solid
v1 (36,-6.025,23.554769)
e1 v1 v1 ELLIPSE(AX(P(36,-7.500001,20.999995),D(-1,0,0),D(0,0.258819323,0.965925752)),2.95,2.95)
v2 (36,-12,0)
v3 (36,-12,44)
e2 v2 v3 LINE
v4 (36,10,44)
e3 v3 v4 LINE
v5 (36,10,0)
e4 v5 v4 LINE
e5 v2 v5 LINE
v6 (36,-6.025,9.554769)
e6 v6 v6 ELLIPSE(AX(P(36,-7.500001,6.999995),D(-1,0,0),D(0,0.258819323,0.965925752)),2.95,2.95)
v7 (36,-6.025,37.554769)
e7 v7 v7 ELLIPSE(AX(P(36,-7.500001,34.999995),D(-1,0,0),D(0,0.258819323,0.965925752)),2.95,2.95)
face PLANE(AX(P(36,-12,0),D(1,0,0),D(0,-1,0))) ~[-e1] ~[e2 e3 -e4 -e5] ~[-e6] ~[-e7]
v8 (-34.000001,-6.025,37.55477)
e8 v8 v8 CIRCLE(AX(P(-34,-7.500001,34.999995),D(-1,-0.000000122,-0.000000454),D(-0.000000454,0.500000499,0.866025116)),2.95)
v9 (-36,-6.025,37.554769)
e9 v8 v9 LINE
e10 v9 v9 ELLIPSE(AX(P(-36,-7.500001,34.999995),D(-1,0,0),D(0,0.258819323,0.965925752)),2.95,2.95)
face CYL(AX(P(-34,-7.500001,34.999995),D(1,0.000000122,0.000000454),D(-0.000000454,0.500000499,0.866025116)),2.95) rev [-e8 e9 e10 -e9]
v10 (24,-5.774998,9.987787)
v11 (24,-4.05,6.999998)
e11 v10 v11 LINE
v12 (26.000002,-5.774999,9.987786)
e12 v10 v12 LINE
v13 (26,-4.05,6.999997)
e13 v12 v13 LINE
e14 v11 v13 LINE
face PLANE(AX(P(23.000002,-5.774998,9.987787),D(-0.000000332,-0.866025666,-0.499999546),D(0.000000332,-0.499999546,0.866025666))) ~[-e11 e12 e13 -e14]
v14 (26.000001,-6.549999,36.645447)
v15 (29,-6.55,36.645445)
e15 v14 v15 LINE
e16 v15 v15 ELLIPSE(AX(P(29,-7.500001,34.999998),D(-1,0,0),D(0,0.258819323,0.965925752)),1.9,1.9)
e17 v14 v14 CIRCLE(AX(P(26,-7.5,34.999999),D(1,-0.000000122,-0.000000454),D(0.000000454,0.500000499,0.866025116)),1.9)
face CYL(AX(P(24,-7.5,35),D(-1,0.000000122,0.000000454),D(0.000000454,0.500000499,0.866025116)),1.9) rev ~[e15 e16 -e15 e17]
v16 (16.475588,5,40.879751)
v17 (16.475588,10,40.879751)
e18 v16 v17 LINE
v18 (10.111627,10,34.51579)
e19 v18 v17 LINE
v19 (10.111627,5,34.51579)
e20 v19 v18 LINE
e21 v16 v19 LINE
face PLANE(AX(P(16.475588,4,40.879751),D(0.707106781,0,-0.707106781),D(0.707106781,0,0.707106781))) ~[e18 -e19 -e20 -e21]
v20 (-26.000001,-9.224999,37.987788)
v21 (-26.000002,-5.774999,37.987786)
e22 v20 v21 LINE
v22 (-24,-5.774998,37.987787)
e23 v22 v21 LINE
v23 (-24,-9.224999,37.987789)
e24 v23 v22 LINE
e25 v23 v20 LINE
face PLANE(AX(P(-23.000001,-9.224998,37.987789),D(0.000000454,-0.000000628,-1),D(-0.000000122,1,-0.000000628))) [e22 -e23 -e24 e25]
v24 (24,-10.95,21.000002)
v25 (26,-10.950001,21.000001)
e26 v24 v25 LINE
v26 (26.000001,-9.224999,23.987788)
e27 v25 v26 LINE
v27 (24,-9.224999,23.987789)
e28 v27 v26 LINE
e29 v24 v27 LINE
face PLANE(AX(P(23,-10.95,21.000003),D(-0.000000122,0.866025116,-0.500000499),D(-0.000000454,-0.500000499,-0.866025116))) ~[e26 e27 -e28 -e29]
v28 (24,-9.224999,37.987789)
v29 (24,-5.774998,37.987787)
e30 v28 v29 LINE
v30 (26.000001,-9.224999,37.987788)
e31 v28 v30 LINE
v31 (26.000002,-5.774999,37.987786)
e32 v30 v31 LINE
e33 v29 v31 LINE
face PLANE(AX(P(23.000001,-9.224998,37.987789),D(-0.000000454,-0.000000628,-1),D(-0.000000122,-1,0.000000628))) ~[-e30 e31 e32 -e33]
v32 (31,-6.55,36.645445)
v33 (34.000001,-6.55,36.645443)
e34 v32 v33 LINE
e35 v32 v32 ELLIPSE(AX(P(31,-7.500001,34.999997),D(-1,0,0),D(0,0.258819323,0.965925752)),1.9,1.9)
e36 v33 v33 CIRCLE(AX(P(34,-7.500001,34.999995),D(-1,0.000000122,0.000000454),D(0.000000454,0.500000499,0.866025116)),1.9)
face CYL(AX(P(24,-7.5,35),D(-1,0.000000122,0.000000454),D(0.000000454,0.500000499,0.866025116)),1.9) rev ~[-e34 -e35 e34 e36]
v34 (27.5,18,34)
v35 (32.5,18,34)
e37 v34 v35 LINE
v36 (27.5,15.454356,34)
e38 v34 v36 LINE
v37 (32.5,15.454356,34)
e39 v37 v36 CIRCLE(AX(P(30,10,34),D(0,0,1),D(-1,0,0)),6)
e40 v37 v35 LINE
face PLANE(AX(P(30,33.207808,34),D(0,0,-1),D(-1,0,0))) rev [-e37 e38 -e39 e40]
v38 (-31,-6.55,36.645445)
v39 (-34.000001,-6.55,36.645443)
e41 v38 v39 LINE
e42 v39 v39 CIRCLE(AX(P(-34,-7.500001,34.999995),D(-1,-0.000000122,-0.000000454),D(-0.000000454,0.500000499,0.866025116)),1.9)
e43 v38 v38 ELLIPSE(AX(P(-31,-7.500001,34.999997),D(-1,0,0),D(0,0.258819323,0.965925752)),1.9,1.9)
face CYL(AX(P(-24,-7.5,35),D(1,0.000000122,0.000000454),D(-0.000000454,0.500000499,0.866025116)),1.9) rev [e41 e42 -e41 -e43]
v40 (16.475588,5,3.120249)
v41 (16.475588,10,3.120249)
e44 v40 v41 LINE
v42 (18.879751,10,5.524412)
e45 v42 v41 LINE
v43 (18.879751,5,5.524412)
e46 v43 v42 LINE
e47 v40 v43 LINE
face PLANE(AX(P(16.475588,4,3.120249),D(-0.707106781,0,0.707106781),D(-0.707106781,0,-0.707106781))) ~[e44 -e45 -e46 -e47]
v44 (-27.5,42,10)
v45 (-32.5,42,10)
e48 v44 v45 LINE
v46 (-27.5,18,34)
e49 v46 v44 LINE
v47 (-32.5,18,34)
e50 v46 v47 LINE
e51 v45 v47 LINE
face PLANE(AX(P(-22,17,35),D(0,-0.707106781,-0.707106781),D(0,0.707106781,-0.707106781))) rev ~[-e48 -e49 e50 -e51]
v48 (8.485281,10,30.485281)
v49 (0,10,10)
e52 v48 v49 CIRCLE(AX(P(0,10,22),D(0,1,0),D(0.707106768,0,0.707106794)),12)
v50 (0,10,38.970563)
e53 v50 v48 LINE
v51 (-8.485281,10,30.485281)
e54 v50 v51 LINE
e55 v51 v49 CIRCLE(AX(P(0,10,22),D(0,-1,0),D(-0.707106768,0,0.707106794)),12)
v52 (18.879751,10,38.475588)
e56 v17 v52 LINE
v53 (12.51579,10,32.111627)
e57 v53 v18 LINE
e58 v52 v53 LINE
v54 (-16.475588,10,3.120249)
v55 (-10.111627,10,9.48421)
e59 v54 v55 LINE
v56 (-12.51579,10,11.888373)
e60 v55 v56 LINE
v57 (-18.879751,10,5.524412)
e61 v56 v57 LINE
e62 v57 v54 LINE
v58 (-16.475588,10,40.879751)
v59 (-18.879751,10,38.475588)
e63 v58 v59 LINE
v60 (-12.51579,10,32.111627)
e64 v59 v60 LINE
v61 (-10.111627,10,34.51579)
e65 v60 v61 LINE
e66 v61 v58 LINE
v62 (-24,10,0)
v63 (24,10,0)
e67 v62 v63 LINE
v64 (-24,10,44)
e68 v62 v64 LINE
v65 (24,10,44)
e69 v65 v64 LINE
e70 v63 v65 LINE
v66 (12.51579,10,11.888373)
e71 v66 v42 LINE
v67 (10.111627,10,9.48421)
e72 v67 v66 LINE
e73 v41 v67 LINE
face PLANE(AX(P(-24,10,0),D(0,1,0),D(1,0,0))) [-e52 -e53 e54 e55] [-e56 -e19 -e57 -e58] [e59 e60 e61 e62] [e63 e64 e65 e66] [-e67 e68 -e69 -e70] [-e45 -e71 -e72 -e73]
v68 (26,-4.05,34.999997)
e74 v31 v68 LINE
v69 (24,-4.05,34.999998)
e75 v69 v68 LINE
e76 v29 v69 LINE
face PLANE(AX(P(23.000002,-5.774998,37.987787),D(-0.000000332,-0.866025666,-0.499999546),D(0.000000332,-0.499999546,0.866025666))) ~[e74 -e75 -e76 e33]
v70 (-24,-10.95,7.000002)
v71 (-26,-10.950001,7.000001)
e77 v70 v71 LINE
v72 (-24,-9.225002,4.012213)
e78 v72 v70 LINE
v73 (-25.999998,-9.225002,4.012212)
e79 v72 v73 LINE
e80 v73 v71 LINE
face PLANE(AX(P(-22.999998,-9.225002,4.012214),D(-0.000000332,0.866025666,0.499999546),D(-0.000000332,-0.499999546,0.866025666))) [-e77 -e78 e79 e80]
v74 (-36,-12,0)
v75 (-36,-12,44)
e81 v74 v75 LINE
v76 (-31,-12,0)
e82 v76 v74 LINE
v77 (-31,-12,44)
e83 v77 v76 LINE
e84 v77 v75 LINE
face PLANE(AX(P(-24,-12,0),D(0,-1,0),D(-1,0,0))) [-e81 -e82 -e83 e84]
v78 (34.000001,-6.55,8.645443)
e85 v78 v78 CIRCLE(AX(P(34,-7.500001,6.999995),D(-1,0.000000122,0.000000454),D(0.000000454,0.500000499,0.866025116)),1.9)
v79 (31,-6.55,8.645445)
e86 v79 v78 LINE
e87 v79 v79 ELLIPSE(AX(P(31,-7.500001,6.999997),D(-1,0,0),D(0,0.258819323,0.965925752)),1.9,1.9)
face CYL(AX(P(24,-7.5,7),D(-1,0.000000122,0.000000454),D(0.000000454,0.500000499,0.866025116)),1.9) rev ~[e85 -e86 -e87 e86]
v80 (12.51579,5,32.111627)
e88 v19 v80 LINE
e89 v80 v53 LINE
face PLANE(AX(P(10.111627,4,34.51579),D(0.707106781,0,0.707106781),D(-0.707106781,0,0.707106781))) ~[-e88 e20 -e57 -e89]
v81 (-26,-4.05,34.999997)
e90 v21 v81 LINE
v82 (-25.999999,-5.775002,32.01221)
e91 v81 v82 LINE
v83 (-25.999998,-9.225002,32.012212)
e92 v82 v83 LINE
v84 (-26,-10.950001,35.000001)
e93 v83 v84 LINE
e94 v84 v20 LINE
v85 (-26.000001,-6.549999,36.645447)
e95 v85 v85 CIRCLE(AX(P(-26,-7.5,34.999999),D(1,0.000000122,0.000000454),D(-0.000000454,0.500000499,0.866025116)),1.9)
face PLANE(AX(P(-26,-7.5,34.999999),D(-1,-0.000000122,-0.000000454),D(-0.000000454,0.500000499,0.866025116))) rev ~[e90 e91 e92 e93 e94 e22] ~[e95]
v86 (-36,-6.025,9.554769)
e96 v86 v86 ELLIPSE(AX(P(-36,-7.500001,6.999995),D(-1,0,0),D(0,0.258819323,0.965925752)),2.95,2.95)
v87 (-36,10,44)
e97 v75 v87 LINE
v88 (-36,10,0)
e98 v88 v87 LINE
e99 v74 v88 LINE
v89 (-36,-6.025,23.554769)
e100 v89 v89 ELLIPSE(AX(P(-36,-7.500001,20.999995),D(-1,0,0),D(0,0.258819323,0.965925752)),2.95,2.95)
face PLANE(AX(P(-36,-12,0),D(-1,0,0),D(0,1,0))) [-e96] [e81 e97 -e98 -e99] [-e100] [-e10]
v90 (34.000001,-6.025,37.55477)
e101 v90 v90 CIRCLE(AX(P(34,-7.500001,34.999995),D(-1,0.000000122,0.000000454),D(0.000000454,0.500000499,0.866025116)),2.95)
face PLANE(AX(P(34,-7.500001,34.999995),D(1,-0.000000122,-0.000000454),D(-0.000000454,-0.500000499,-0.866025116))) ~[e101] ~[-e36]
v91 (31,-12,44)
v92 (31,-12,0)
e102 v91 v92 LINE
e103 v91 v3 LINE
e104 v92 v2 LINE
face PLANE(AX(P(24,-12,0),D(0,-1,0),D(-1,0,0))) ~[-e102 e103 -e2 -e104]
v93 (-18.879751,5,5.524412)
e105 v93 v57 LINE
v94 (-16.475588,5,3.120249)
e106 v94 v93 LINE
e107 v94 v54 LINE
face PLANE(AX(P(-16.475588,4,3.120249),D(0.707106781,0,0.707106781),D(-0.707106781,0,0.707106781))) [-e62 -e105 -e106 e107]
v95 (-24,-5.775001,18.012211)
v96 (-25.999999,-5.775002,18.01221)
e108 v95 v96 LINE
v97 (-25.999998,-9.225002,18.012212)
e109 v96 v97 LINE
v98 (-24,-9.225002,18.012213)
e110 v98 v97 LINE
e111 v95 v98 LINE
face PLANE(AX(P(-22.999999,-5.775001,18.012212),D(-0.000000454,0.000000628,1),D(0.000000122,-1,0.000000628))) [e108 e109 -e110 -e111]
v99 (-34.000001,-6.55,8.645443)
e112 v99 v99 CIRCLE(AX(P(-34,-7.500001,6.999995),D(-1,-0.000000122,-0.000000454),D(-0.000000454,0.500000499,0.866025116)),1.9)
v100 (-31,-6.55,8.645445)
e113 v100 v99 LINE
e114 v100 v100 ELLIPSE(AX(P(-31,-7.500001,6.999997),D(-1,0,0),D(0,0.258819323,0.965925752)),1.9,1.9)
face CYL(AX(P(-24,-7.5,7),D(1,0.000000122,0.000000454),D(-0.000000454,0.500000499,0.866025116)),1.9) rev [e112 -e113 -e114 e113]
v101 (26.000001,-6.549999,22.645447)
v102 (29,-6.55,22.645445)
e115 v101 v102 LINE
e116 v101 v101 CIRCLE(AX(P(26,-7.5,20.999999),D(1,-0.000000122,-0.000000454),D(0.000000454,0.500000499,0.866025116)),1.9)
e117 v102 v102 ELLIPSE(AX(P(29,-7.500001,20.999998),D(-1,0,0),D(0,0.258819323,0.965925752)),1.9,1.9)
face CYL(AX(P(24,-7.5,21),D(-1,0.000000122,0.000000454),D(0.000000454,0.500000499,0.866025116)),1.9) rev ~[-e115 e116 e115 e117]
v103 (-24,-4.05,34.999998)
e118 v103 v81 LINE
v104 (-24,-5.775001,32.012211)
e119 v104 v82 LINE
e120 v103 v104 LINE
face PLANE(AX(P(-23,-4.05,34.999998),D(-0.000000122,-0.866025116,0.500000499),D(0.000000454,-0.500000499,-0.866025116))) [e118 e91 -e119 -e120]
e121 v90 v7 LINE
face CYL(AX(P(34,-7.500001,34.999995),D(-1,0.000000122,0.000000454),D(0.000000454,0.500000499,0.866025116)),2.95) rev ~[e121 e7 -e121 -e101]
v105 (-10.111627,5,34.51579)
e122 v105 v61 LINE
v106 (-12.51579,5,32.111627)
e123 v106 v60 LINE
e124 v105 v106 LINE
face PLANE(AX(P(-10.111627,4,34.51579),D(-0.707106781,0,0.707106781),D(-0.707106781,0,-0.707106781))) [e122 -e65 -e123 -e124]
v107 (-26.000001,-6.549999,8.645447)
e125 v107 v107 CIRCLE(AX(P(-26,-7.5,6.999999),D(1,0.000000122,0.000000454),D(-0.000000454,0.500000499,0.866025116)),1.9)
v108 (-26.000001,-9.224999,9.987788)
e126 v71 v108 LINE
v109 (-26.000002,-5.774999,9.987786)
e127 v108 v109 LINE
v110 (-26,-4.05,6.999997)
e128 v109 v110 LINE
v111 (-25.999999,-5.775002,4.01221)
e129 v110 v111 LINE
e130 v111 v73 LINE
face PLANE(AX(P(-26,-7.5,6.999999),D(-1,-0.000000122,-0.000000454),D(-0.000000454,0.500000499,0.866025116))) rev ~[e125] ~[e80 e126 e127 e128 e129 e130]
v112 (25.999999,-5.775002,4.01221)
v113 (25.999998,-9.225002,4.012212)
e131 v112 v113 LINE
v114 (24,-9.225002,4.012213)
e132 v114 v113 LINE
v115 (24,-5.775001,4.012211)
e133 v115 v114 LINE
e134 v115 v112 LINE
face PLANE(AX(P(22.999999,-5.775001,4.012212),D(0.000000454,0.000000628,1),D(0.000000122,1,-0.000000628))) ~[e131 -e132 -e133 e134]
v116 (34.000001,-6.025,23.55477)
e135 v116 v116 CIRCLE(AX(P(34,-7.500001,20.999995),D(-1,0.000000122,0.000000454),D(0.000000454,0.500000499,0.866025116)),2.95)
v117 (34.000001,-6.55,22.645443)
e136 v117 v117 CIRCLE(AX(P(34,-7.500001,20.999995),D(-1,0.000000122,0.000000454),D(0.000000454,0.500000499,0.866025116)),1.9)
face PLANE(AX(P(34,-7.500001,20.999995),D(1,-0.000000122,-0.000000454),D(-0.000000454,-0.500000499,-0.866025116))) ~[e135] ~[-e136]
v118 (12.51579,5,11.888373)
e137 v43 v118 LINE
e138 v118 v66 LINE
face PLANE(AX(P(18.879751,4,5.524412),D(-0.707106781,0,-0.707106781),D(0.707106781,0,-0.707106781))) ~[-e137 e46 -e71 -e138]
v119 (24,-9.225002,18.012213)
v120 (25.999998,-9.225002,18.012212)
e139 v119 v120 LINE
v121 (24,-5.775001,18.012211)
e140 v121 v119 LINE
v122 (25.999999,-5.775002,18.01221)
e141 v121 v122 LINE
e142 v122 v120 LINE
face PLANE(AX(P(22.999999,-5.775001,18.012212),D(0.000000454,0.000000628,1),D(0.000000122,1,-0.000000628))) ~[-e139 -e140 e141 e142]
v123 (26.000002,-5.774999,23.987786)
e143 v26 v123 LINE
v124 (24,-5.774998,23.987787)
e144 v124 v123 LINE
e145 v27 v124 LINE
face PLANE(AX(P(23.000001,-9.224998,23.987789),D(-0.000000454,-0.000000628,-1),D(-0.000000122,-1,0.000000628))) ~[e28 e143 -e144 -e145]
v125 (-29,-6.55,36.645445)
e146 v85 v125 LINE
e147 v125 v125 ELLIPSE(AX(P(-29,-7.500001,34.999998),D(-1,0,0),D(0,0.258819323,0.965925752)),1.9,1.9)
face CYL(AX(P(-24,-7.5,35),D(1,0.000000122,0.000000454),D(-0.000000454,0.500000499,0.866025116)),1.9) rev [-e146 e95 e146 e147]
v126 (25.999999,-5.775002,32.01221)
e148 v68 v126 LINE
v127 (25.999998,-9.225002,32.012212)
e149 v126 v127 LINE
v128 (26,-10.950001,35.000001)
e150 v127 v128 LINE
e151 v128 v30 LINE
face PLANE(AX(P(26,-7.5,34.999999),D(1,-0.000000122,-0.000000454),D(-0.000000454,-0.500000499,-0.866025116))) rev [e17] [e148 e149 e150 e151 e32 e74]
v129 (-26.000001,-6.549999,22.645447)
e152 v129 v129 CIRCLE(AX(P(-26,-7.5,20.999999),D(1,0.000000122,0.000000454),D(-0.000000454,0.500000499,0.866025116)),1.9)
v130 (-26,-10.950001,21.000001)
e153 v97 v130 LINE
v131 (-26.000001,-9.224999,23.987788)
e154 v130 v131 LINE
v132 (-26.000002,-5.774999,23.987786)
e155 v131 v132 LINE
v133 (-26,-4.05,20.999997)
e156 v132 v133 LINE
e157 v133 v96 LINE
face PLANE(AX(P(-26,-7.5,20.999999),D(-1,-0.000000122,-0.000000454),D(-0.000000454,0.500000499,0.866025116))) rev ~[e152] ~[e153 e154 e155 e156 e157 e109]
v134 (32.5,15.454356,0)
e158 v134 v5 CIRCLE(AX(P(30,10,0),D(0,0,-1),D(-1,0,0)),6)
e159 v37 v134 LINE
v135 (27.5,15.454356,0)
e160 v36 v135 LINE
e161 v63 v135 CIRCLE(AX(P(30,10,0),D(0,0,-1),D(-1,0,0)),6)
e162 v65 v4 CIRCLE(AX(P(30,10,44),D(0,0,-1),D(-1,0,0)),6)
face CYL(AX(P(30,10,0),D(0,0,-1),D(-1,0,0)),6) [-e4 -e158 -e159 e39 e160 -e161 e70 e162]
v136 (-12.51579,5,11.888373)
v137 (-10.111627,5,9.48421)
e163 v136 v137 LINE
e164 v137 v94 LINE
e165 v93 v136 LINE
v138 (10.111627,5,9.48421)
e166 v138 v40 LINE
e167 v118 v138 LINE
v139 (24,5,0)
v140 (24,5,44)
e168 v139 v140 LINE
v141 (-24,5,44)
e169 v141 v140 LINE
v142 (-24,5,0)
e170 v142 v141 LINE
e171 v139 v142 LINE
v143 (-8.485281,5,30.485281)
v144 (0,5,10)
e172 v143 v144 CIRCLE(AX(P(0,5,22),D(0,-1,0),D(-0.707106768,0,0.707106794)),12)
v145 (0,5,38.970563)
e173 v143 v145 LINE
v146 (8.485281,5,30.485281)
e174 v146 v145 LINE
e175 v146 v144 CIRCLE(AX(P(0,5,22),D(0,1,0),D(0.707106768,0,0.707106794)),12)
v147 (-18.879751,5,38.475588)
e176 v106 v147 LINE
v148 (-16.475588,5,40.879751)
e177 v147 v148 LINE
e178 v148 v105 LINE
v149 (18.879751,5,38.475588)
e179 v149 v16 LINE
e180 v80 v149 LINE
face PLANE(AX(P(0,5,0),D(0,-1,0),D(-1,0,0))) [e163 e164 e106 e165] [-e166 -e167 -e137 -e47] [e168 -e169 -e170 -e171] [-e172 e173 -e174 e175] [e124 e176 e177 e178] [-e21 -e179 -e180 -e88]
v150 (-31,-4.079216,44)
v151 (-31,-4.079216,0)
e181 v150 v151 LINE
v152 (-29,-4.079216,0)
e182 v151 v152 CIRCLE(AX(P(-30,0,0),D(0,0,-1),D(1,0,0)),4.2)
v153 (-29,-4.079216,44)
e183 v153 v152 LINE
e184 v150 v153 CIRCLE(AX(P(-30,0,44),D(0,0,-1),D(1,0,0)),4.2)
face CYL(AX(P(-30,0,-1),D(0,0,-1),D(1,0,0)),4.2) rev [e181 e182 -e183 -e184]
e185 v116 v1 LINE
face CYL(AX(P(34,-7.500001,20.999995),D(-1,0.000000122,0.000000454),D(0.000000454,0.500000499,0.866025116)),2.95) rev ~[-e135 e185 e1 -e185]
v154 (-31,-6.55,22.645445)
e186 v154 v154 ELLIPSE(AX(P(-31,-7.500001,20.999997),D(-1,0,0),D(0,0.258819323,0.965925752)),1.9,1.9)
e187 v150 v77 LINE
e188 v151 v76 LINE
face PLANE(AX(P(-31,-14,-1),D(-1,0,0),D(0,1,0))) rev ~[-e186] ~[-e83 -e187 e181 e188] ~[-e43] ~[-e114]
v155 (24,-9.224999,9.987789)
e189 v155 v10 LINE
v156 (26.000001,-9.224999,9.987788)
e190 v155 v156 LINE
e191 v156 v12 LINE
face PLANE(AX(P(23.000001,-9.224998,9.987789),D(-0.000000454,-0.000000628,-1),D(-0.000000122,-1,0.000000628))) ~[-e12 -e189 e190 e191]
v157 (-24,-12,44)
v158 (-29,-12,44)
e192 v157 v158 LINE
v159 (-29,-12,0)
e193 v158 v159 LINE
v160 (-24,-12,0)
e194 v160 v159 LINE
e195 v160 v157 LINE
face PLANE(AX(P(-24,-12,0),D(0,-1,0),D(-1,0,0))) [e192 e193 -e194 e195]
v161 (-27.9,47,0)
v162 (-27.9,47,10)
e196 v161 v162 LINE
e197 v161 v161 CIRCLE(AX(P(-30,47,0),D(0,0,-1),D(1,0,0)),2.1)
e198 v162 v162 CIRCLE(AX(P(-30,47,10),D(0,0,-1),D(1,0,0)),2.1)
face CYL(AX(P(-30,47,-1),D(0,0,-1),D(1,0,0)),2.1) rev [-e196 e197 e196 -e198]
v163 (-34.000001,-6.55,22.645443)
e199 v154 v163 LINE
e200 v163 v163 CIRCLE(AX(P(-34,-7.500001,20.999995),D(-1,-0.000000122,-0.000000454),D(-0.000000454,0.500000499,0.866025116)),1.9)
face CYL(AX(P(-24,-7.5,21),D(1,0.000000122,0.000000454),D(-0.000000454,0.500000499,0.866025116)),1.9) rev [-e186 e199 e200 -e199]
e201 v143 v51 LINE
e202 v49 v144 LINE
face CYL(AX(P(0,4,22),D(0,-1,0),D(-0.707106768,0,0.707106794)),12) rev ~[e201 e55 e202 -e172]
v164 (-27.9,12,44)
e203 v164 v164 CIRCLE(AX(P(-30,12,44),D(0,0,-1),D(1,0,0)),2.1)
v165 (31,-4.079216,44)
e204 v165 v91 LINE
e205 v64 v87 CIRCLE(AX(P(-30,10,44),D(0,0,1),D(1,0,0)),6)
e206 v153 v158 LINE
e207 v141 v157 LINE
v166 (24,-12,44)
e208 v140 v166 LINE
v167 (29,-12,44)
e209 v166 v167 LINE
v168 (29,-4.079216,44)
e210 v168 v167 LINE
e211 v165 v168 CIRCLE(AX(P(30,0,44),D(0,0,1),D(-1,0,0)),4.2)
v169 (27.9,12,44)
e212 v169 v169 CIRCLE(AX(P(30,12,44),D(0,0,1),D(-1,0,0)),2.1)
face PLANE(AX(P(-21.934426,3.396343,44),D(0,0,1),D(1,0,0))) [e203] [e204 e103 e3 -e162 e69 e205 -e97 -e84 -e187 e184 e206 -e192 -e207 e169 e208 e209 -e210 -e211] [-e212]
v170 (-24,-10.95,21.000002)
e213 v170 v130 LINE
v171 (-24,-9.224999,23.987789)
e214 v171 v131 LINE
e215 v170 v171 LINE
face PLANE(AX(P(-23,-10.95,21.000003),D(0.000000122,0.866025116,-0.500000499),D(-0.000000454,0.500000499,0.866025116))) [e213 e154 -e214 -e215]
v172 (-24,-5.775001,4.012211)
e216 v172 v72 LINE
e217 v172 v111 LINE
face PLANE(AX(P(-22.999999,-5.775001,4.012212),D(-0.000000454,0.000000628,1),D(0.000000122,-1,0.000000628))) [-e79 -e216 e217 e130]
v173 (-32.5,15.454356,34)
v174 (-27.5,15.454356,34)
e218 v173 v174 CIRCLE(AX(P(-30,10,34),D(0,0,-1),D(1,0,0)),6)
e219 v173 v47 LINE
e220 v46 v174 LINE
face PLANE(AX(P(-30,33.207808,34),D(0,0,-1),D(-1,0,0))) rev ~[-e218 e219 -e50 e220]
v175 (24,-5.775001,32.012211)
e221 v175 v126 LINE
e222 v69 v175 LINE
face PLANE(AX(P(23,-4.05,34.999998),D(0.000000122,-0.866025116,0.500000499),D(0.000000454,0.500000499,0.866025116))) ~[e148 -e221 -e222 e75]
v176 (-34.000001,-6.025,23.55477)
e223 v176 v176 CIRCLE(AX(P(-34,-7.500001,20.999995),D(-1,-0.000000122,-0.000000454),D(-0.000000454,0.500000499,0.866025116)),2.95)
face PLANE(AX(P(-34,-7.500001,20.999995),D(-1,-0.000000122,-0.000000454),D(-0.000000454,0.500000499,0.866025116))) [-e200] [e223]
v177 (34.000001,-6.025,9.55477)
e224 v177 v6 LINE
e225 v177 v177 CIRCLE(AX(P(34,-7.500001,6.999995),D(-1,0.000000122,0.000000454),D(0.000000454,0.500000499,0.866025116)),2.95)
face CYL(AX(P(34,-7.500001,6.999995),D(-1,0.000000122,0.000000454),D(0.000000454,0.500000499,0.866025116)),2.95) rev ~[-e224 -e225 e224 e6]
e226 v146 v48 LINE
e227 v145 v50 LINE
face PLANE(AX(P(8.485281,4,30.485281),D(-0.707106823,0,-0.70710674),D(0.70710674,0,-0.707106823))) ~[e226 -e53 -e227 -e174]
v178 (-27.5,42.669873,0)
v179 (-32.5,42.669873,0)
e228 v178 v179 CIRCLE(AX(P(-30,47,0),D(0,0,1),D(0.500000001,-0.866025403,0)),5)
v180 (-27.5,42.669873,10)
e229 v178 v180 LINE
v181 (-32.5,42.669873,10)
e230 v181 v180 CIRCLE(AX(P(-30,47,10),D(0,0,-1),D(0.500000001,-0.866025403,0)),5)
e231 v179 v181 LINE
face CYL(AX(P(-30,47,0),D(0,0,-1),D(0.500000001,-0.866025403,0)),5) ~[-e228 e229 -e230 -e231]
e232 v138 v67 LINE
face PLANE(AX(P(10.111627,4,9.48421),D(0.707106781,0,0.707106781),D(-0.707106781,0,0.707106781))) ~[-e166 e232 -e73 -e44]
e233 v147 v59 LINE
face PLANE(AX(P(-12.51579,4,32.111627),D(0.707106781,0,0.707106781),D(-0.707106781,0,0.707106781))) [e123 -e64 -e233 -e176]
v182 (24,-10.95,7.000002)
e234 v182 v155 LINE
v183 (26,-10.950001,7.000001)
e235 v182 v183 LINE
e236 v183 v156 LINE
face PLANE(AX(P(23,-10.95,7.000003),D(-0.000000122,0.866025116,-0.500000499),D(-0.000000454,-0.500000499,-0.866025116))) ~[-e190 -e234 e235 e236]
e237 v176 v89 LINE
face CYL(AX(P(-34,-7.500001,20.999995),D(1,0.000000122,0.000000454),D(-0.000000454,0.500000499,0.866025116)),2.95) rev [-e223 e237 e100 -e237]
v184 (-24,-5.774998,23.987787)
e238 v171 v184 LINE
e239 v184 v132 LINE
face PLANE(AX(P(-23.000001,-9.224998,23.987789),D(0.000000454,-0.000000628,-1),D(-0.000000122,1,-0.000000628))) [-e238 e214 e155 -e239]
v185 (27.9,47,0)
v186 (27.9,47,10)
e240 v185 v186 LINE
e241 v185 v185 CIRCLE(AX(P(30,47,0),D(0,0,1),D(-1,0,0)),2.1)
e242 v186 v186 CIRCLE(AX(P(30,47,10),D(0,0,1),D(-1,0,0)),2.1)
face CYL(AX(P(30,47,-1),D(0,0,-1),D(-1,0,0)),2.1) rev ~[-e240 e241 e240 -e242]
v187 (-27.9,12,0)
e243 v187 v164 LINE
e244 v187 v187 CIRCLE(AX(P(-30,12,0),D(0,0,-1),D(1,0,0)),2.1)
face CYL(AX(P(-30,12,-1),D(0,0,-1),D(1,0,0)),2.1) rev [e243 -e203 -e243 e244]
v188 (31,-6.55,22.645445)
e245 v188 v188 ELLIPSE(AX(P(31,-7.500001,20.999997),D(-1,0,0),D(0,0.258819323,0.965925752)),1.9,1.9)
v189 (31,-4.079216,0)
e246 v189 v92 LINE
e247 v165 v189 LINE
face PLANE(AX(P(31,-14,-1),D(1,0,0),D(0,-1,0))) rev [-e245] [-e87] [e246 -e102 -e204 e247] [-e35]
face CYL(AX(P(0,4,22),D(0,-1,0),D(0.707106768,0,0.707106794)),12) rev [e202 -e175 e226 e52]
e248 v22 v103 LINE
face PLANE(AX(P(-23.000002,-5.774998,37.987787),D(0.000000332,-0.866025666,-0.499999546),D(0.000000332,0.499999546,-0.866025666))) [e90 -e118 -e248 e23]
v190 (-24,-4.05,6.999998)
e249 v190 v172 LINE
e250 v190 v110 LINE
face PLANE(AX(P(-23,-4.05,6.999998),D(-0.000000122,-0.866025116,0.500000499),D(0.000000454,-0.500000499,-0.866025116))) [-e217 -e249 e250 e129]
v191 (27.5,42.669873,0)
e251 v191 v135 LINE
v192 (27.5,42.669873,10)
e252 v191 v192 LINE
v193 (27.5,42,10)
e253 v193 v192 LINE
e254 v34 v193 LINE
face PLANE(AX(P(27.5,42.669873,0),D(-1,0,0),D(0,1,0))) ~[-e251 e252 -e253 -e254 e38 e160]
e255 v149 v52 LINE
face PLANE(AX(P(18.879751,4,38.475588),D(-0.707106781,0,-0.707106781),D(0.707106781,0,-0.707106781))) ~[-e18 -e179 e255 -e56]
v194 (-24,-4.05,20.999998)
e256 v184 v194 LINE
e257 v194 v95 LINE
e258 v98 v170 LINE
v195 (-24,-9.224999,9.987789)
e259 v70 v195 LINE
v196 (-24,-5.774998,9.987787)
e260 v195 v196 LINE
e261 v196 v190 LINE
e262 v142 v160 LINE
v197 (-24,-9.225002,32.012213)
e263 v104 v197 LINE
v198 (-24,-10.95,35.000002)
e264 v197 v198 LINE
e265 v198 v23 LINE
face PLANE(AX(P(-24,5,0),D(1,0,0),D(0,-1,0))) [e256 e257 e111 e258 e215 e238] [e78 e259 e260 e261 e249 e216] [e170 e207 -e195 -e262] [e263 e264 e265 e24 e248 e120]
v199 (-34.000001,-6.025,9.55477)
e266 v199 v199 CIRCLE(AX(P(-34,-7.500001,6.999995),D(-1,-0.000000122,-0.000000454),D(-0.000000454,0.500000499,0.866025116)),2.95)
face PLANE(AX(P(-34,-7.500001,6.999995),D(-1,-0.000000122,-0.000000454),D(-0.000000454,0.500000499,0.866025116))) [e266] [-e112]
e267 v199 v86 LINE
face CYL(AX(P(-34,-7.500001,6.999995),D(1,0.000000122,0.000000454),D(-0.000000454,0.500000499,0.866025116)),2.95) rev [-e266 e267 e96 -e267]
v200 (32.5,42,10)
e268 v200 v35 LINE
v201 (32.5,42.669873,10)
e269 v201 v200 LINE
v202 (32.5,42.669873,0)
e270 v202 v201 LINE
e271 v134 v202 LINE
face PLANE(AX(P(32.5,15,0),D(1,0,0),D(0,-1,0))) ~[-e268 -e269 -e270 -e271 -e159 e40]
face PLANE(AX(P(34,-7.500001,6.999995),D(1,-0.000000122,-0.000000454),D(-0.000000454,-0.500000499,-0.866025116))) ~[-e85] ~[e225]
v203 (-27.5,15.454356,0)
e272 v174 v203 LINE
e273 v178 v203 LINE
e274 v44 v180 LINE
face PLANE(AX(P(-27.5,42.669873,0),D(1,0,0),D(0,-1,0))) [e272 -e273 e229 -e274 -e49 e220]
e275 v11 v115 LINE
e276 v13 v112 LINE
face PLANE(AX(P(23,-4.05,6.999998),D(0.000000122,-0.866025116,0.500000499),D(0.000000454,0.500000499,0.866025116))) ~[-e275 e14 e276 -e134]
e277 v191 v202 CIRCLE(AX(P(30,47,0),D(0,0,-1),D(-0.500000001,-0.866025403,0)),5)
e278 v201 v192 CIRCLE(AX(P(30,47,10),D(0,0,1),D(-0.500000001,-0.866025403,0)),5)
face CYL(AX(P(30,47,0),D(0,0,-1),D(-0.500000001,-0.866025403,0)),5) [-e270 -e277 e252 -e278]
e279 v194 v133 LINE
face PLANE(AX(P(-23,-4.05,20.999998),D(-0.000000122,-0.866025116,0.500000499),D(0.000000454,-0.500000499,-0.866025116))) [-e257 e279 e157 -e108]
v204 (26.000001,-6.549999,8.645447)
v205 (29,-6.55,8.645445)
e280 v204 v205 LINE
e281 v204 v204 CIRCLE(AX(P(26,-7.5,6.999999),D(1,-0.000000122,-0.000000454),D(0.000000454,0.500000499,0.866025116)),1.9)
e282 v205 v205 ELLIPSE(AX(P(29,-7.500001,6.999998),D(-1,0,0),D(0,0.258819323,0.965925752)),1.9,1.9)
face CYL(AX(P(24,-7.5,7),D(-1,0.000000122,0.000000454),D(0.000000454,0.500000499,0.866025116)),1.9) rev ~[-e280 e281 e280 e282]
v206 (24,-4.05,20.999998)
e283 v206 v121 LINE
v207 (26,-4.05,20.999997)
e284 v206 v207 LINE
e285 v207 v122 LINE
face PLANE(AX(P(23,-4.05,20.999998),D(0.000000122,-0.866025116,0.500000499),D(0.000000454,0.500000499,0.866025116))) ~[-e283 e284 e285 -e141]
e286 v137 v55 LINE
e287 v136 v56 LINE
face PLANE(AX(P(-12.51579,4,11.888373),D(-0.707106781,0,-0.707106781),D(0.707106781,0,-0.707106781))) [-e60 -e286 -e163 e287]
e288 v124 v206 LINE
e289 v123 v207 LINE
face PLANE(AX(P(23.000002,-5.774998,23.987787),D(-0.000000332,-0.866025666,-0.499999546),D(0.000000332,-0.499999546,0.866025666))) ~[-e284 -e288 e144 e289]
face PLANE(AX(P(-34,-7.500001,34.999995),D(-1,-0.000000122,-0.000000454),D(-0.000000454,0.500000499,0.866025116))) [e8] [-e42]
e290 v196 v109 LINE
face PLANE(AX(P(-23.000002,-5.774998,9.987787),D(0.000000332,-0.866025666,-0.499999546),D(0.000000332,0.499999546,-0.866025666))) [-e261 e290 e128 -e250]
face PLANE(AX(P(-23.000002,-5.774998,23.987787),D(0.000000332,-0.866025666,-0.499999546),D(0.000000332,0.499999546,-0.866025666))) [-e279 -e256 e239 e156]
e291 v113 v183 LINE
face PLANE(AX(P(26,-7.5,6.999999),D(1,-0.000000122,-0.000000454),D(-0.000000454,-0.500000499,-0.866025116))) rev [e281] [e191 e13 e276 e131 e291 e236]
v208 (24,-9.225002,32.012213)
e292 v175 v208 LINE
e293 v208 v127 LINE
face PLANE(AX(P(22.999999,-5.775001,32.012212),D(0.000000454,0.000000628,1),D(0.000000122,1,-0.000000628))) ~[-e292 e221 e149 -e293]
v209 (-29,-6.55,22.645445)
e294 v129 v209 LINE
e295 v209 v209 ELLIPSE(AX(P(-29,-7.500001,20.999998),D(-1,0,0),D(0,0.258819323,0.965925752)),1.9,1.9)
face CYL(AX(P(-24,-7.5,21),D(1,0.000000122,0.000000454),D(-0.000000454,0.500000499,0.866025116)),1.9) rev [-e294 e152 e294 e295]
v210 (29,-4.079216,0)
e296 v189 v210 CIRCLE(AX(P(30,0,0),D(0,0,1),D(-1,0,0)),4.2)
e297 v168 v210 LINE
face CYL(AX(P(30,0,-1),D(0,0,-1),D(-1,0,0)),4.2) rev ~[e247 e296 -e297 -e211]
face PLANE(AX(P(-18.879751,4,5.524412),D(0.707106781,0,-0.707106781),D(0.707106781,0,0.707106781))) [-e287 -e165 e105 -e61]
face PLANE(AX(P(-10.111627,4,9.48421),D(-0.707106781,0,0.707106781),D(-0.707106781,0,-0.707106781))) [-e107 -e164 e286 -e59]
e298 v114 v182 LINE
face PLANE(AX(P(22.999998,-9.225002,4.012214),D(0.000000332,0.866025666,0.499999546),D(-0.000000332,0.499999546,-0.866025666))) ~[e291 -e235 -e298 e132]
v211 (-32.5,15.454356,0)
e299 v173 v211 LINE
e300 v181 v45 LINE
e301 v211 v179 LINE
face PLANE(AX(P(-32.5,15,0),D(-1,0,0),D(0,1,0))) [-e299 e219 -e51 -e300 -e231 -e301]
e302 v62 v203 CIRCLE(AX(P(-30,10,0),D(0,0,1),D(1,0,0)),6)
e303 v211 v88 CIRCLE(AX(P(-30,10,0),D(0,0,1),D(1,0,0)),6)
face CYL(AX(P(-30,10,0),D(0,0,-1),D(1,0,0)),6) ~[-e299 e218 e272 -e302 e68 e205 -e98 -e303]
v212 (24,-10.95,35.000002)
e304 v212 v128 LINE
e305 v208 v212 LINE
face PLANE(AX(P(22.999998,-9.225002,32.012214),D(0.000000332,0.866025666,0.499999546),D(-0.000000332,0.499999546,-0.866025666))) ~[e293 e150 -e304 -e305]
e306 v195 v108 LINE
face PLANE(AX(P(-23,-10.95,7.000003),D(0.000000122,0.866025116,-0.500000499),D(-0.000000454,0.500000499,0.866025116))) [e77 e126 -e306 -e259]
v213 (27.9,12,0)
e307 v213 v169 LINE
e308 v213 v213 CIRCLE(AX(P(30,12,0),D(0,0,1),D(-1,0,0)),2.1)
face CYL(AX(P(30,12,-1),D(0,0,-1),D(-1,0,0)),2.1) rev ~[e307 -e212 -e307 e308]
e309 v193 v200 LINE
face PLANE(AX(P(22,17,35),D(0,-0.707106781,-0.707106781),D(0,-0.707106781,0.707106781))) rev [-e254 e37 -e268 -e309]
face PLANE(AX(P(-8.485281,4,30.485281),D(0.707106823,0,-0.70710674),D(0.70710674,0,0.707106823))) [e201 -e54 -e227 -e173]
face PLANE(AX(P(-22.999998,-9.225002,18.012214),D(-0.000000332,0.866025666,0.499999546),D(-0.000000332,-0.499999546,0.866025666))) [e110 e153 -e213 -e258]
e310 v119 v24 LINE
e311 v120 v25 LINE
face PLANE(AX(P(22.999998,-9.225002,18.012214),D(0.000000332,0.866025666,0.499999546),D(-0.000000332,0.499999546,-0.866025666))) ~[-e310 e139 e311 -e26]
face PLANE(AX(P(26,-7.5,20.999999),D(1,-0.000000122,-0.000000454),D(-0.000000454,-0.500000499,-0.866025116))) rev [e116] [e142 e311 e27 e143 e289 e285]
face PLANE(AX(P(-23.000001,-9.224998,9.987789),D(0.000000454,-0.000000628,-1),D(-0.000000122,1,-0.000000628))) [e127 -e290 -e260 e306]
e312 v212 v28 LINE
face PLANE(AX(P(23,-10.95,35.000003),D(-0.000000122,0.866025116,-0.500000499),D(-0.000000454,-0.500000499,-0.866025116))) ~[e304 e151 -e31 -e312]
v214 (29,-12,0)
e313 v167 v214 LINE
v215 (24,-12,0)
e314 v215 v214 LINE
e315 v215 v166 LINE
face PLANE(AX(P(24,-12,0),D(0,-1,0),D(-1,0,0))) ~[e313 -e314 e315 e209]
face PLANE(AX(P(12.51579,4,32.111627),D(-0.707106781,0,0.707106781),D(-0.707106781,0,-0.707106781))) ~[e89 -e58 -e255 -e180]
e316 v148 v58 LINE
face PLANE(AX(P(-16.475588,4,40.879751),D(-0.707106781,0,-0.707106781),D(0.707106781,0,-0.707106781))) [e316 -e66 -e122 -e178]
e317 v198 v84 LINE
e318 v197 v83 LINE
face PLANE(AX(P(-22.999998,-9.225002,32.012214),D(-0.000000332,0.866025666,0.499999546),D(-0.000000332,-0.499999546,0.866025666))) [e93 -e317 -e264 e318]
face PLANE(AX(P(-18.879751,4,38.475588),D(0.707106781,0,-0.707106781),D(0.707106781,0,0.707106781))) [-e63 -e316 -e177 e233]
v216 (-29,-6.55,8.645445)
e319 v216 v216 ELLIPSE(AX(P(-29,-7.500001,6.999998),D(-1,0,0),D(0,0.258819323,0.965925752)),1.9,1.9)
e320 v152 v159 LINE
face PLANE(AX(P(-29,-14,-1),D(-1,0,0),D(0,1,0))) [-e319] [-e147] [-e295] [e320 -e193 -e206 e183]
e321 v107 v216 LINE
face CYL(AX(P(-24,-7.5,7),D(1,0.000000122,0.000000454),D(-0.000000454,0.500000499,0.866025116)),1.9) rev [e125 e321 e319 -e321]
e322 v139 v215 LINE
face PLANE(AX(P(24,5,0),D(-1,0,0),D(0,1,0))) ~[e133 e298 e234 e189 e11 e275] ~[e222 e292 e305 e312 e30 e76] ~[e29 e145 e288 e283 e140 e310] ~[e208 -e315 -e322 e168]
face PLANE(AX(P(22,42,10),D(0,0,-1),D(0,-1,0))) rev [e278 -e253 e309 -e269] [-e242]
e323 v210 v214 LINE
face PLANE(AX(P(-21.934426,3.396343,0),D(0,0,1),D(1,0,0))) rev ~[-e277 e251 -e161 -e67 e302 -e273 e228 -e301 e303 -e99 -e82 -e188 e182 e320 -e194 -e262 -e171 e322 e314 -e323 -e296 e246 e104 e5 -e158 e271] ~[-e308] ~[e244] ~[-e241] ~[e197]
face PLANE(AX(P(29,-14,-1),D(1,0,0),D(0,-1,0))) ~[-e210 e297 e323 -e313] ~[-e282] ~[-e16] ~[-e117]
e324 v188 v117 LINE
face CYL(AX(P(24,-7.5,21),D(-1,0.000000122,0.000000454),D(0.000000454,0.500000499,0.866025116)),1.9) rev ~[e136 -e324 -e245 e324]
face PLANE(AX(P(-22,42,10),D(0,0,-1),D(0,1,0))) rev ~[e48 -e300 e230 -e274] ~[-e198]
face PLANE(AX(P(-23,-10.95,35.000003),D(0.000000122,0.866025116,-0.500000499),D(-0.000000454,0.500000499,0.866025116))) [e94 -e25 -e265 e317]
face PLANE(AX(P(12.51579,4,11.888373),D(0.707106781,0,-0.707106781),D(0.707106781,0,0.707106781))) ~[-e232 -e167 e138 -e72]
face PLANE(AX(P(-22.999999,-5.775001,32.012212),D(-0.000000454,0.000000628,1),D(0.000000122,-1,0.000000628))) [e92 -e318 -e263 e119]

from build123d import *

# Parameters (mm, degrees)
CYLINDER_R             = 4.2
CYLINDER_DEPTH         = 46
CYLINDER001_R          = 2.1
CYLINDER001_DEPTH      = 46
SKETCH001_W            = 2
SKETCH001_H            = 14
PAD001_DEPTH           = 46
CYLINDER003_R          = 2.95
CYLINDER003_DEPTH      = 4
CYLINDER002_R          = 1.9
CYLINDER002_DEPTH      = 10
PRISM_DEPTH            = 3
FUSION_ROLL_ANGLE      = -90.000052
FUSION_PITCH_ANGLE     = -59.999967
FUSION_PLACEMENT_ANGLE = 90.000052
PAD004_DEPTH           = 10
PAD006_DEPTH           = 15
PAD_DEPTH              = 44
PAD005_DEPTH           = 34


with BuildPart() as rod_cut:
    # Cylinder → Cylinder (new body)
    with BuildSketch(Plane(origin=(-30, 0, -1), x_dir=(1, 0, 0), z_dir=(0, 0, 1))):
        Circle(CYLINDER_R)
    extrude(amount=CYLINDER_DEPTH)


with BuildPart() as top_screw_cut:
    # Cylinder001 → Cylinder001 (new body)
    with BuildSketch(Plane(origin=(-30, 12, -1), x_dir=(1, 0, 0), z_dir=(0, 0, 1))):
        Circle(CYLINDER001_R)
    extrude(amount=CYLINDER001_DEPTH)


with BuildPart() as clamps_relief_cut:
    # Sketch001 → Pad001 (new body)
    with BuildSketch(Plane.XY.offset(-1)):
        with Locations((-30, -7)):
            Rectangle(SKETCH001_W, SKETCH001_H)
    extrude(amount=PAD001_DEPTH)


with BuildPart() as cylinder001:
    # Cylinder003 → Cylinder003 (new body)
    with BuildSketch(Plane.XY.offset(10)):
        Circle(CYLINDER003_R)
    extrude(amount=CYLINDER003_DEPTH)


with BuildPart() as cylinder:
    # Cylinder002 → Cylinder002 (new body)
    with BuildSketch(Plane.XY):
        Circle(CYLINDER002_R)
    extrude(amount=CYLINDER002_DEPTH)


with BuildPart() as fusion:
    # Prism → Prism (new body)
    with BuildSketch(Plane.XY.offset(-1)):
        Polygon((3.45, 0), (1.725, 2.987788), (-1.725, 2.987788), (-3.45, 0), (-1.725, -2.987788), (1.725, -2.987788), align=None)
    extrude(amount=PRISM_DEPTH)

    # Fusion: union Cylinder001, Cylinder
    add(cylinder001.part)
    add(cylinder.part)


with BuildPart() as fusion_1:
    # Fusion roll: moved
    add(fusion.part.rotate(Axis((0, 0, 0), (1, 0, 0)), FUSION_ROLL_ANGLE))


with BuildPart() as fusion_2:
    # Fusion pitch: moved
    add(fusion_1.part.rotate(Axis((0, 0, 0), (0, 1, 0)), FUSION_PITCH_ANGLE))


with BuildPart() as fusion_3:
    # Fusion placement: moved
    add(fusion_2.part.moved(Location((-24, -7.5, 7))).rotate(Axis((-24, -7.5, 7), (0, 0, 1)), FUSION_PLACEMENT_ANGLE))


with BuildPart() as clone_of_fusion:
    # Clone base: copy of Fusion
    add(fusion_3.part)


with BuildPart() as clone_of_fusion_1:
    # Clone placement: moved
    add(clone_of_fusion.part.moved(Location((0, 0, 14))))


with BuildPart() as fusion006005:
    # Clone001 base: copy of Fusion
    add(fusion_3.part)


with BuildPart() as fusion006005_1:
    # Clone001 placement: moved
    add(fusion006005.part.moved(Location((0, 0, 28))))

    # Fusion006005: union Clone of Fusion, Fusion
    add(clone_of_fusion_1.part)
    add(fusion_3.part)


with BuildPart() as fusion006006:
    # Clone002 base: copy of Top_screw_cut
    add(top_screw_cut.part)


with BuildPart() as fusion006006_1:
    # Clone002 placement: moved
    add(fusion006006.part.moved(Location((0, 35, 0))))

    # Fusion006006: union Rod_cut, Top_screw_cut, Clamps_Relief_cut, Fusion006005
    add(rod_cut.part)
    add(top_screw_cut.part)
    add(clamps_relief_cut.part)
    add(fusion006005_1.part)


with BuildPart() as fusion006008:
    # Sketch004 → Pad004 (new body)
    with BuildSketch(Plane.XZ.offset(-4)):
        with BuildLine():
            ThreePointArc((-8.485281, 30.485281), (-2e-06, 10), (8.485284, 30.485278))
            Line((0, 38.970563), (8.485284, 30.485278))
            Line((-8.485281, 30.485281), (0, 38.970563))
        make_face()
        Polygon((-18.879751, 38.475588), (-16.475588, 40.879751), (-10.111627, 34.51579), (-12.51579, 32.111627), align=None)
        Polygon((-18.879751, 5.524412), (-12.51579, 11.888373), (-10.111627, 9.48421), (-16.475588, 3.120249), align=None)
    extrude(amount=-PAD004_DEPTH)

    # Fusion006008: union Fusion006006
    add(fusion006006_1.part)


with BuildPart() as pad006:
    # Sketch007 → Pad006 (new body)
    with BuildSketch(Plane.YZ.offset(-22)):
        Polygon((17, 35), (42, 10), (58.138325, 10), (58.138325, 51.535988), (17, 51.535988), align=None)
    extrude(amount=-PAD006_DEPTH)


with BuildPart() as idler_half_raw:
    # Sketch → Pad (new body)
    with BuildSketch(Plane.XY):
        with BuildLine():
            ThreePointArc((-24, 10), (-30, 16), (-36, 10))
            Line((-36, -12), (-36, 10))
            Line((-24, -12), (-36, -12))
            Line((-24, 5), (-24, -12))
            Line((0, 5), (-24, 5))
            Line((0, 10), (0, 5))
            Line((-24, 10), (0, 10))
        make_face()
    extrude(amount=PAD_DEPTH)


with BuildPart() as cut001:
    # Sketch005 → Pad005 (new body)
    with BuildSketch(Plane.XY):
        with BuildLine():
            Line((-27.5, 15), (-32.5, 15))
            Line((-32.5, 15), (-32.5, 42.669873))
            ThreePointArc((-27.5, 42.669873), (-30, 52), (-32.5, 42.669873))
            Line((-27.5, 42.669873), (-27.5, 15))
        make_face()
    extrude(amount=PAD005_DEPTH)

    # Fusion006007: union Idler_Half_Raw
    add(idler_half_raw.part)

    # Cut: cut Pad006
    add(pad006.part, mode=Mode.SUBTRACT)

    # Cut001: cut Fusion006008
    add(fusion006008.part, mode=Mode.SUBTRACT)


with BuildPart() as fusion006009:
    # Part__Mirroring: instance of Cut001
    add(cut001.part.mirror(Plane(origin=(0, 0, 0), x_dir=(0, -1, 0), z_dir=(1, 0, 0))))

    # Fusion006009: union Cut001
    add(cut001.part)


solid = fusion006009.part
